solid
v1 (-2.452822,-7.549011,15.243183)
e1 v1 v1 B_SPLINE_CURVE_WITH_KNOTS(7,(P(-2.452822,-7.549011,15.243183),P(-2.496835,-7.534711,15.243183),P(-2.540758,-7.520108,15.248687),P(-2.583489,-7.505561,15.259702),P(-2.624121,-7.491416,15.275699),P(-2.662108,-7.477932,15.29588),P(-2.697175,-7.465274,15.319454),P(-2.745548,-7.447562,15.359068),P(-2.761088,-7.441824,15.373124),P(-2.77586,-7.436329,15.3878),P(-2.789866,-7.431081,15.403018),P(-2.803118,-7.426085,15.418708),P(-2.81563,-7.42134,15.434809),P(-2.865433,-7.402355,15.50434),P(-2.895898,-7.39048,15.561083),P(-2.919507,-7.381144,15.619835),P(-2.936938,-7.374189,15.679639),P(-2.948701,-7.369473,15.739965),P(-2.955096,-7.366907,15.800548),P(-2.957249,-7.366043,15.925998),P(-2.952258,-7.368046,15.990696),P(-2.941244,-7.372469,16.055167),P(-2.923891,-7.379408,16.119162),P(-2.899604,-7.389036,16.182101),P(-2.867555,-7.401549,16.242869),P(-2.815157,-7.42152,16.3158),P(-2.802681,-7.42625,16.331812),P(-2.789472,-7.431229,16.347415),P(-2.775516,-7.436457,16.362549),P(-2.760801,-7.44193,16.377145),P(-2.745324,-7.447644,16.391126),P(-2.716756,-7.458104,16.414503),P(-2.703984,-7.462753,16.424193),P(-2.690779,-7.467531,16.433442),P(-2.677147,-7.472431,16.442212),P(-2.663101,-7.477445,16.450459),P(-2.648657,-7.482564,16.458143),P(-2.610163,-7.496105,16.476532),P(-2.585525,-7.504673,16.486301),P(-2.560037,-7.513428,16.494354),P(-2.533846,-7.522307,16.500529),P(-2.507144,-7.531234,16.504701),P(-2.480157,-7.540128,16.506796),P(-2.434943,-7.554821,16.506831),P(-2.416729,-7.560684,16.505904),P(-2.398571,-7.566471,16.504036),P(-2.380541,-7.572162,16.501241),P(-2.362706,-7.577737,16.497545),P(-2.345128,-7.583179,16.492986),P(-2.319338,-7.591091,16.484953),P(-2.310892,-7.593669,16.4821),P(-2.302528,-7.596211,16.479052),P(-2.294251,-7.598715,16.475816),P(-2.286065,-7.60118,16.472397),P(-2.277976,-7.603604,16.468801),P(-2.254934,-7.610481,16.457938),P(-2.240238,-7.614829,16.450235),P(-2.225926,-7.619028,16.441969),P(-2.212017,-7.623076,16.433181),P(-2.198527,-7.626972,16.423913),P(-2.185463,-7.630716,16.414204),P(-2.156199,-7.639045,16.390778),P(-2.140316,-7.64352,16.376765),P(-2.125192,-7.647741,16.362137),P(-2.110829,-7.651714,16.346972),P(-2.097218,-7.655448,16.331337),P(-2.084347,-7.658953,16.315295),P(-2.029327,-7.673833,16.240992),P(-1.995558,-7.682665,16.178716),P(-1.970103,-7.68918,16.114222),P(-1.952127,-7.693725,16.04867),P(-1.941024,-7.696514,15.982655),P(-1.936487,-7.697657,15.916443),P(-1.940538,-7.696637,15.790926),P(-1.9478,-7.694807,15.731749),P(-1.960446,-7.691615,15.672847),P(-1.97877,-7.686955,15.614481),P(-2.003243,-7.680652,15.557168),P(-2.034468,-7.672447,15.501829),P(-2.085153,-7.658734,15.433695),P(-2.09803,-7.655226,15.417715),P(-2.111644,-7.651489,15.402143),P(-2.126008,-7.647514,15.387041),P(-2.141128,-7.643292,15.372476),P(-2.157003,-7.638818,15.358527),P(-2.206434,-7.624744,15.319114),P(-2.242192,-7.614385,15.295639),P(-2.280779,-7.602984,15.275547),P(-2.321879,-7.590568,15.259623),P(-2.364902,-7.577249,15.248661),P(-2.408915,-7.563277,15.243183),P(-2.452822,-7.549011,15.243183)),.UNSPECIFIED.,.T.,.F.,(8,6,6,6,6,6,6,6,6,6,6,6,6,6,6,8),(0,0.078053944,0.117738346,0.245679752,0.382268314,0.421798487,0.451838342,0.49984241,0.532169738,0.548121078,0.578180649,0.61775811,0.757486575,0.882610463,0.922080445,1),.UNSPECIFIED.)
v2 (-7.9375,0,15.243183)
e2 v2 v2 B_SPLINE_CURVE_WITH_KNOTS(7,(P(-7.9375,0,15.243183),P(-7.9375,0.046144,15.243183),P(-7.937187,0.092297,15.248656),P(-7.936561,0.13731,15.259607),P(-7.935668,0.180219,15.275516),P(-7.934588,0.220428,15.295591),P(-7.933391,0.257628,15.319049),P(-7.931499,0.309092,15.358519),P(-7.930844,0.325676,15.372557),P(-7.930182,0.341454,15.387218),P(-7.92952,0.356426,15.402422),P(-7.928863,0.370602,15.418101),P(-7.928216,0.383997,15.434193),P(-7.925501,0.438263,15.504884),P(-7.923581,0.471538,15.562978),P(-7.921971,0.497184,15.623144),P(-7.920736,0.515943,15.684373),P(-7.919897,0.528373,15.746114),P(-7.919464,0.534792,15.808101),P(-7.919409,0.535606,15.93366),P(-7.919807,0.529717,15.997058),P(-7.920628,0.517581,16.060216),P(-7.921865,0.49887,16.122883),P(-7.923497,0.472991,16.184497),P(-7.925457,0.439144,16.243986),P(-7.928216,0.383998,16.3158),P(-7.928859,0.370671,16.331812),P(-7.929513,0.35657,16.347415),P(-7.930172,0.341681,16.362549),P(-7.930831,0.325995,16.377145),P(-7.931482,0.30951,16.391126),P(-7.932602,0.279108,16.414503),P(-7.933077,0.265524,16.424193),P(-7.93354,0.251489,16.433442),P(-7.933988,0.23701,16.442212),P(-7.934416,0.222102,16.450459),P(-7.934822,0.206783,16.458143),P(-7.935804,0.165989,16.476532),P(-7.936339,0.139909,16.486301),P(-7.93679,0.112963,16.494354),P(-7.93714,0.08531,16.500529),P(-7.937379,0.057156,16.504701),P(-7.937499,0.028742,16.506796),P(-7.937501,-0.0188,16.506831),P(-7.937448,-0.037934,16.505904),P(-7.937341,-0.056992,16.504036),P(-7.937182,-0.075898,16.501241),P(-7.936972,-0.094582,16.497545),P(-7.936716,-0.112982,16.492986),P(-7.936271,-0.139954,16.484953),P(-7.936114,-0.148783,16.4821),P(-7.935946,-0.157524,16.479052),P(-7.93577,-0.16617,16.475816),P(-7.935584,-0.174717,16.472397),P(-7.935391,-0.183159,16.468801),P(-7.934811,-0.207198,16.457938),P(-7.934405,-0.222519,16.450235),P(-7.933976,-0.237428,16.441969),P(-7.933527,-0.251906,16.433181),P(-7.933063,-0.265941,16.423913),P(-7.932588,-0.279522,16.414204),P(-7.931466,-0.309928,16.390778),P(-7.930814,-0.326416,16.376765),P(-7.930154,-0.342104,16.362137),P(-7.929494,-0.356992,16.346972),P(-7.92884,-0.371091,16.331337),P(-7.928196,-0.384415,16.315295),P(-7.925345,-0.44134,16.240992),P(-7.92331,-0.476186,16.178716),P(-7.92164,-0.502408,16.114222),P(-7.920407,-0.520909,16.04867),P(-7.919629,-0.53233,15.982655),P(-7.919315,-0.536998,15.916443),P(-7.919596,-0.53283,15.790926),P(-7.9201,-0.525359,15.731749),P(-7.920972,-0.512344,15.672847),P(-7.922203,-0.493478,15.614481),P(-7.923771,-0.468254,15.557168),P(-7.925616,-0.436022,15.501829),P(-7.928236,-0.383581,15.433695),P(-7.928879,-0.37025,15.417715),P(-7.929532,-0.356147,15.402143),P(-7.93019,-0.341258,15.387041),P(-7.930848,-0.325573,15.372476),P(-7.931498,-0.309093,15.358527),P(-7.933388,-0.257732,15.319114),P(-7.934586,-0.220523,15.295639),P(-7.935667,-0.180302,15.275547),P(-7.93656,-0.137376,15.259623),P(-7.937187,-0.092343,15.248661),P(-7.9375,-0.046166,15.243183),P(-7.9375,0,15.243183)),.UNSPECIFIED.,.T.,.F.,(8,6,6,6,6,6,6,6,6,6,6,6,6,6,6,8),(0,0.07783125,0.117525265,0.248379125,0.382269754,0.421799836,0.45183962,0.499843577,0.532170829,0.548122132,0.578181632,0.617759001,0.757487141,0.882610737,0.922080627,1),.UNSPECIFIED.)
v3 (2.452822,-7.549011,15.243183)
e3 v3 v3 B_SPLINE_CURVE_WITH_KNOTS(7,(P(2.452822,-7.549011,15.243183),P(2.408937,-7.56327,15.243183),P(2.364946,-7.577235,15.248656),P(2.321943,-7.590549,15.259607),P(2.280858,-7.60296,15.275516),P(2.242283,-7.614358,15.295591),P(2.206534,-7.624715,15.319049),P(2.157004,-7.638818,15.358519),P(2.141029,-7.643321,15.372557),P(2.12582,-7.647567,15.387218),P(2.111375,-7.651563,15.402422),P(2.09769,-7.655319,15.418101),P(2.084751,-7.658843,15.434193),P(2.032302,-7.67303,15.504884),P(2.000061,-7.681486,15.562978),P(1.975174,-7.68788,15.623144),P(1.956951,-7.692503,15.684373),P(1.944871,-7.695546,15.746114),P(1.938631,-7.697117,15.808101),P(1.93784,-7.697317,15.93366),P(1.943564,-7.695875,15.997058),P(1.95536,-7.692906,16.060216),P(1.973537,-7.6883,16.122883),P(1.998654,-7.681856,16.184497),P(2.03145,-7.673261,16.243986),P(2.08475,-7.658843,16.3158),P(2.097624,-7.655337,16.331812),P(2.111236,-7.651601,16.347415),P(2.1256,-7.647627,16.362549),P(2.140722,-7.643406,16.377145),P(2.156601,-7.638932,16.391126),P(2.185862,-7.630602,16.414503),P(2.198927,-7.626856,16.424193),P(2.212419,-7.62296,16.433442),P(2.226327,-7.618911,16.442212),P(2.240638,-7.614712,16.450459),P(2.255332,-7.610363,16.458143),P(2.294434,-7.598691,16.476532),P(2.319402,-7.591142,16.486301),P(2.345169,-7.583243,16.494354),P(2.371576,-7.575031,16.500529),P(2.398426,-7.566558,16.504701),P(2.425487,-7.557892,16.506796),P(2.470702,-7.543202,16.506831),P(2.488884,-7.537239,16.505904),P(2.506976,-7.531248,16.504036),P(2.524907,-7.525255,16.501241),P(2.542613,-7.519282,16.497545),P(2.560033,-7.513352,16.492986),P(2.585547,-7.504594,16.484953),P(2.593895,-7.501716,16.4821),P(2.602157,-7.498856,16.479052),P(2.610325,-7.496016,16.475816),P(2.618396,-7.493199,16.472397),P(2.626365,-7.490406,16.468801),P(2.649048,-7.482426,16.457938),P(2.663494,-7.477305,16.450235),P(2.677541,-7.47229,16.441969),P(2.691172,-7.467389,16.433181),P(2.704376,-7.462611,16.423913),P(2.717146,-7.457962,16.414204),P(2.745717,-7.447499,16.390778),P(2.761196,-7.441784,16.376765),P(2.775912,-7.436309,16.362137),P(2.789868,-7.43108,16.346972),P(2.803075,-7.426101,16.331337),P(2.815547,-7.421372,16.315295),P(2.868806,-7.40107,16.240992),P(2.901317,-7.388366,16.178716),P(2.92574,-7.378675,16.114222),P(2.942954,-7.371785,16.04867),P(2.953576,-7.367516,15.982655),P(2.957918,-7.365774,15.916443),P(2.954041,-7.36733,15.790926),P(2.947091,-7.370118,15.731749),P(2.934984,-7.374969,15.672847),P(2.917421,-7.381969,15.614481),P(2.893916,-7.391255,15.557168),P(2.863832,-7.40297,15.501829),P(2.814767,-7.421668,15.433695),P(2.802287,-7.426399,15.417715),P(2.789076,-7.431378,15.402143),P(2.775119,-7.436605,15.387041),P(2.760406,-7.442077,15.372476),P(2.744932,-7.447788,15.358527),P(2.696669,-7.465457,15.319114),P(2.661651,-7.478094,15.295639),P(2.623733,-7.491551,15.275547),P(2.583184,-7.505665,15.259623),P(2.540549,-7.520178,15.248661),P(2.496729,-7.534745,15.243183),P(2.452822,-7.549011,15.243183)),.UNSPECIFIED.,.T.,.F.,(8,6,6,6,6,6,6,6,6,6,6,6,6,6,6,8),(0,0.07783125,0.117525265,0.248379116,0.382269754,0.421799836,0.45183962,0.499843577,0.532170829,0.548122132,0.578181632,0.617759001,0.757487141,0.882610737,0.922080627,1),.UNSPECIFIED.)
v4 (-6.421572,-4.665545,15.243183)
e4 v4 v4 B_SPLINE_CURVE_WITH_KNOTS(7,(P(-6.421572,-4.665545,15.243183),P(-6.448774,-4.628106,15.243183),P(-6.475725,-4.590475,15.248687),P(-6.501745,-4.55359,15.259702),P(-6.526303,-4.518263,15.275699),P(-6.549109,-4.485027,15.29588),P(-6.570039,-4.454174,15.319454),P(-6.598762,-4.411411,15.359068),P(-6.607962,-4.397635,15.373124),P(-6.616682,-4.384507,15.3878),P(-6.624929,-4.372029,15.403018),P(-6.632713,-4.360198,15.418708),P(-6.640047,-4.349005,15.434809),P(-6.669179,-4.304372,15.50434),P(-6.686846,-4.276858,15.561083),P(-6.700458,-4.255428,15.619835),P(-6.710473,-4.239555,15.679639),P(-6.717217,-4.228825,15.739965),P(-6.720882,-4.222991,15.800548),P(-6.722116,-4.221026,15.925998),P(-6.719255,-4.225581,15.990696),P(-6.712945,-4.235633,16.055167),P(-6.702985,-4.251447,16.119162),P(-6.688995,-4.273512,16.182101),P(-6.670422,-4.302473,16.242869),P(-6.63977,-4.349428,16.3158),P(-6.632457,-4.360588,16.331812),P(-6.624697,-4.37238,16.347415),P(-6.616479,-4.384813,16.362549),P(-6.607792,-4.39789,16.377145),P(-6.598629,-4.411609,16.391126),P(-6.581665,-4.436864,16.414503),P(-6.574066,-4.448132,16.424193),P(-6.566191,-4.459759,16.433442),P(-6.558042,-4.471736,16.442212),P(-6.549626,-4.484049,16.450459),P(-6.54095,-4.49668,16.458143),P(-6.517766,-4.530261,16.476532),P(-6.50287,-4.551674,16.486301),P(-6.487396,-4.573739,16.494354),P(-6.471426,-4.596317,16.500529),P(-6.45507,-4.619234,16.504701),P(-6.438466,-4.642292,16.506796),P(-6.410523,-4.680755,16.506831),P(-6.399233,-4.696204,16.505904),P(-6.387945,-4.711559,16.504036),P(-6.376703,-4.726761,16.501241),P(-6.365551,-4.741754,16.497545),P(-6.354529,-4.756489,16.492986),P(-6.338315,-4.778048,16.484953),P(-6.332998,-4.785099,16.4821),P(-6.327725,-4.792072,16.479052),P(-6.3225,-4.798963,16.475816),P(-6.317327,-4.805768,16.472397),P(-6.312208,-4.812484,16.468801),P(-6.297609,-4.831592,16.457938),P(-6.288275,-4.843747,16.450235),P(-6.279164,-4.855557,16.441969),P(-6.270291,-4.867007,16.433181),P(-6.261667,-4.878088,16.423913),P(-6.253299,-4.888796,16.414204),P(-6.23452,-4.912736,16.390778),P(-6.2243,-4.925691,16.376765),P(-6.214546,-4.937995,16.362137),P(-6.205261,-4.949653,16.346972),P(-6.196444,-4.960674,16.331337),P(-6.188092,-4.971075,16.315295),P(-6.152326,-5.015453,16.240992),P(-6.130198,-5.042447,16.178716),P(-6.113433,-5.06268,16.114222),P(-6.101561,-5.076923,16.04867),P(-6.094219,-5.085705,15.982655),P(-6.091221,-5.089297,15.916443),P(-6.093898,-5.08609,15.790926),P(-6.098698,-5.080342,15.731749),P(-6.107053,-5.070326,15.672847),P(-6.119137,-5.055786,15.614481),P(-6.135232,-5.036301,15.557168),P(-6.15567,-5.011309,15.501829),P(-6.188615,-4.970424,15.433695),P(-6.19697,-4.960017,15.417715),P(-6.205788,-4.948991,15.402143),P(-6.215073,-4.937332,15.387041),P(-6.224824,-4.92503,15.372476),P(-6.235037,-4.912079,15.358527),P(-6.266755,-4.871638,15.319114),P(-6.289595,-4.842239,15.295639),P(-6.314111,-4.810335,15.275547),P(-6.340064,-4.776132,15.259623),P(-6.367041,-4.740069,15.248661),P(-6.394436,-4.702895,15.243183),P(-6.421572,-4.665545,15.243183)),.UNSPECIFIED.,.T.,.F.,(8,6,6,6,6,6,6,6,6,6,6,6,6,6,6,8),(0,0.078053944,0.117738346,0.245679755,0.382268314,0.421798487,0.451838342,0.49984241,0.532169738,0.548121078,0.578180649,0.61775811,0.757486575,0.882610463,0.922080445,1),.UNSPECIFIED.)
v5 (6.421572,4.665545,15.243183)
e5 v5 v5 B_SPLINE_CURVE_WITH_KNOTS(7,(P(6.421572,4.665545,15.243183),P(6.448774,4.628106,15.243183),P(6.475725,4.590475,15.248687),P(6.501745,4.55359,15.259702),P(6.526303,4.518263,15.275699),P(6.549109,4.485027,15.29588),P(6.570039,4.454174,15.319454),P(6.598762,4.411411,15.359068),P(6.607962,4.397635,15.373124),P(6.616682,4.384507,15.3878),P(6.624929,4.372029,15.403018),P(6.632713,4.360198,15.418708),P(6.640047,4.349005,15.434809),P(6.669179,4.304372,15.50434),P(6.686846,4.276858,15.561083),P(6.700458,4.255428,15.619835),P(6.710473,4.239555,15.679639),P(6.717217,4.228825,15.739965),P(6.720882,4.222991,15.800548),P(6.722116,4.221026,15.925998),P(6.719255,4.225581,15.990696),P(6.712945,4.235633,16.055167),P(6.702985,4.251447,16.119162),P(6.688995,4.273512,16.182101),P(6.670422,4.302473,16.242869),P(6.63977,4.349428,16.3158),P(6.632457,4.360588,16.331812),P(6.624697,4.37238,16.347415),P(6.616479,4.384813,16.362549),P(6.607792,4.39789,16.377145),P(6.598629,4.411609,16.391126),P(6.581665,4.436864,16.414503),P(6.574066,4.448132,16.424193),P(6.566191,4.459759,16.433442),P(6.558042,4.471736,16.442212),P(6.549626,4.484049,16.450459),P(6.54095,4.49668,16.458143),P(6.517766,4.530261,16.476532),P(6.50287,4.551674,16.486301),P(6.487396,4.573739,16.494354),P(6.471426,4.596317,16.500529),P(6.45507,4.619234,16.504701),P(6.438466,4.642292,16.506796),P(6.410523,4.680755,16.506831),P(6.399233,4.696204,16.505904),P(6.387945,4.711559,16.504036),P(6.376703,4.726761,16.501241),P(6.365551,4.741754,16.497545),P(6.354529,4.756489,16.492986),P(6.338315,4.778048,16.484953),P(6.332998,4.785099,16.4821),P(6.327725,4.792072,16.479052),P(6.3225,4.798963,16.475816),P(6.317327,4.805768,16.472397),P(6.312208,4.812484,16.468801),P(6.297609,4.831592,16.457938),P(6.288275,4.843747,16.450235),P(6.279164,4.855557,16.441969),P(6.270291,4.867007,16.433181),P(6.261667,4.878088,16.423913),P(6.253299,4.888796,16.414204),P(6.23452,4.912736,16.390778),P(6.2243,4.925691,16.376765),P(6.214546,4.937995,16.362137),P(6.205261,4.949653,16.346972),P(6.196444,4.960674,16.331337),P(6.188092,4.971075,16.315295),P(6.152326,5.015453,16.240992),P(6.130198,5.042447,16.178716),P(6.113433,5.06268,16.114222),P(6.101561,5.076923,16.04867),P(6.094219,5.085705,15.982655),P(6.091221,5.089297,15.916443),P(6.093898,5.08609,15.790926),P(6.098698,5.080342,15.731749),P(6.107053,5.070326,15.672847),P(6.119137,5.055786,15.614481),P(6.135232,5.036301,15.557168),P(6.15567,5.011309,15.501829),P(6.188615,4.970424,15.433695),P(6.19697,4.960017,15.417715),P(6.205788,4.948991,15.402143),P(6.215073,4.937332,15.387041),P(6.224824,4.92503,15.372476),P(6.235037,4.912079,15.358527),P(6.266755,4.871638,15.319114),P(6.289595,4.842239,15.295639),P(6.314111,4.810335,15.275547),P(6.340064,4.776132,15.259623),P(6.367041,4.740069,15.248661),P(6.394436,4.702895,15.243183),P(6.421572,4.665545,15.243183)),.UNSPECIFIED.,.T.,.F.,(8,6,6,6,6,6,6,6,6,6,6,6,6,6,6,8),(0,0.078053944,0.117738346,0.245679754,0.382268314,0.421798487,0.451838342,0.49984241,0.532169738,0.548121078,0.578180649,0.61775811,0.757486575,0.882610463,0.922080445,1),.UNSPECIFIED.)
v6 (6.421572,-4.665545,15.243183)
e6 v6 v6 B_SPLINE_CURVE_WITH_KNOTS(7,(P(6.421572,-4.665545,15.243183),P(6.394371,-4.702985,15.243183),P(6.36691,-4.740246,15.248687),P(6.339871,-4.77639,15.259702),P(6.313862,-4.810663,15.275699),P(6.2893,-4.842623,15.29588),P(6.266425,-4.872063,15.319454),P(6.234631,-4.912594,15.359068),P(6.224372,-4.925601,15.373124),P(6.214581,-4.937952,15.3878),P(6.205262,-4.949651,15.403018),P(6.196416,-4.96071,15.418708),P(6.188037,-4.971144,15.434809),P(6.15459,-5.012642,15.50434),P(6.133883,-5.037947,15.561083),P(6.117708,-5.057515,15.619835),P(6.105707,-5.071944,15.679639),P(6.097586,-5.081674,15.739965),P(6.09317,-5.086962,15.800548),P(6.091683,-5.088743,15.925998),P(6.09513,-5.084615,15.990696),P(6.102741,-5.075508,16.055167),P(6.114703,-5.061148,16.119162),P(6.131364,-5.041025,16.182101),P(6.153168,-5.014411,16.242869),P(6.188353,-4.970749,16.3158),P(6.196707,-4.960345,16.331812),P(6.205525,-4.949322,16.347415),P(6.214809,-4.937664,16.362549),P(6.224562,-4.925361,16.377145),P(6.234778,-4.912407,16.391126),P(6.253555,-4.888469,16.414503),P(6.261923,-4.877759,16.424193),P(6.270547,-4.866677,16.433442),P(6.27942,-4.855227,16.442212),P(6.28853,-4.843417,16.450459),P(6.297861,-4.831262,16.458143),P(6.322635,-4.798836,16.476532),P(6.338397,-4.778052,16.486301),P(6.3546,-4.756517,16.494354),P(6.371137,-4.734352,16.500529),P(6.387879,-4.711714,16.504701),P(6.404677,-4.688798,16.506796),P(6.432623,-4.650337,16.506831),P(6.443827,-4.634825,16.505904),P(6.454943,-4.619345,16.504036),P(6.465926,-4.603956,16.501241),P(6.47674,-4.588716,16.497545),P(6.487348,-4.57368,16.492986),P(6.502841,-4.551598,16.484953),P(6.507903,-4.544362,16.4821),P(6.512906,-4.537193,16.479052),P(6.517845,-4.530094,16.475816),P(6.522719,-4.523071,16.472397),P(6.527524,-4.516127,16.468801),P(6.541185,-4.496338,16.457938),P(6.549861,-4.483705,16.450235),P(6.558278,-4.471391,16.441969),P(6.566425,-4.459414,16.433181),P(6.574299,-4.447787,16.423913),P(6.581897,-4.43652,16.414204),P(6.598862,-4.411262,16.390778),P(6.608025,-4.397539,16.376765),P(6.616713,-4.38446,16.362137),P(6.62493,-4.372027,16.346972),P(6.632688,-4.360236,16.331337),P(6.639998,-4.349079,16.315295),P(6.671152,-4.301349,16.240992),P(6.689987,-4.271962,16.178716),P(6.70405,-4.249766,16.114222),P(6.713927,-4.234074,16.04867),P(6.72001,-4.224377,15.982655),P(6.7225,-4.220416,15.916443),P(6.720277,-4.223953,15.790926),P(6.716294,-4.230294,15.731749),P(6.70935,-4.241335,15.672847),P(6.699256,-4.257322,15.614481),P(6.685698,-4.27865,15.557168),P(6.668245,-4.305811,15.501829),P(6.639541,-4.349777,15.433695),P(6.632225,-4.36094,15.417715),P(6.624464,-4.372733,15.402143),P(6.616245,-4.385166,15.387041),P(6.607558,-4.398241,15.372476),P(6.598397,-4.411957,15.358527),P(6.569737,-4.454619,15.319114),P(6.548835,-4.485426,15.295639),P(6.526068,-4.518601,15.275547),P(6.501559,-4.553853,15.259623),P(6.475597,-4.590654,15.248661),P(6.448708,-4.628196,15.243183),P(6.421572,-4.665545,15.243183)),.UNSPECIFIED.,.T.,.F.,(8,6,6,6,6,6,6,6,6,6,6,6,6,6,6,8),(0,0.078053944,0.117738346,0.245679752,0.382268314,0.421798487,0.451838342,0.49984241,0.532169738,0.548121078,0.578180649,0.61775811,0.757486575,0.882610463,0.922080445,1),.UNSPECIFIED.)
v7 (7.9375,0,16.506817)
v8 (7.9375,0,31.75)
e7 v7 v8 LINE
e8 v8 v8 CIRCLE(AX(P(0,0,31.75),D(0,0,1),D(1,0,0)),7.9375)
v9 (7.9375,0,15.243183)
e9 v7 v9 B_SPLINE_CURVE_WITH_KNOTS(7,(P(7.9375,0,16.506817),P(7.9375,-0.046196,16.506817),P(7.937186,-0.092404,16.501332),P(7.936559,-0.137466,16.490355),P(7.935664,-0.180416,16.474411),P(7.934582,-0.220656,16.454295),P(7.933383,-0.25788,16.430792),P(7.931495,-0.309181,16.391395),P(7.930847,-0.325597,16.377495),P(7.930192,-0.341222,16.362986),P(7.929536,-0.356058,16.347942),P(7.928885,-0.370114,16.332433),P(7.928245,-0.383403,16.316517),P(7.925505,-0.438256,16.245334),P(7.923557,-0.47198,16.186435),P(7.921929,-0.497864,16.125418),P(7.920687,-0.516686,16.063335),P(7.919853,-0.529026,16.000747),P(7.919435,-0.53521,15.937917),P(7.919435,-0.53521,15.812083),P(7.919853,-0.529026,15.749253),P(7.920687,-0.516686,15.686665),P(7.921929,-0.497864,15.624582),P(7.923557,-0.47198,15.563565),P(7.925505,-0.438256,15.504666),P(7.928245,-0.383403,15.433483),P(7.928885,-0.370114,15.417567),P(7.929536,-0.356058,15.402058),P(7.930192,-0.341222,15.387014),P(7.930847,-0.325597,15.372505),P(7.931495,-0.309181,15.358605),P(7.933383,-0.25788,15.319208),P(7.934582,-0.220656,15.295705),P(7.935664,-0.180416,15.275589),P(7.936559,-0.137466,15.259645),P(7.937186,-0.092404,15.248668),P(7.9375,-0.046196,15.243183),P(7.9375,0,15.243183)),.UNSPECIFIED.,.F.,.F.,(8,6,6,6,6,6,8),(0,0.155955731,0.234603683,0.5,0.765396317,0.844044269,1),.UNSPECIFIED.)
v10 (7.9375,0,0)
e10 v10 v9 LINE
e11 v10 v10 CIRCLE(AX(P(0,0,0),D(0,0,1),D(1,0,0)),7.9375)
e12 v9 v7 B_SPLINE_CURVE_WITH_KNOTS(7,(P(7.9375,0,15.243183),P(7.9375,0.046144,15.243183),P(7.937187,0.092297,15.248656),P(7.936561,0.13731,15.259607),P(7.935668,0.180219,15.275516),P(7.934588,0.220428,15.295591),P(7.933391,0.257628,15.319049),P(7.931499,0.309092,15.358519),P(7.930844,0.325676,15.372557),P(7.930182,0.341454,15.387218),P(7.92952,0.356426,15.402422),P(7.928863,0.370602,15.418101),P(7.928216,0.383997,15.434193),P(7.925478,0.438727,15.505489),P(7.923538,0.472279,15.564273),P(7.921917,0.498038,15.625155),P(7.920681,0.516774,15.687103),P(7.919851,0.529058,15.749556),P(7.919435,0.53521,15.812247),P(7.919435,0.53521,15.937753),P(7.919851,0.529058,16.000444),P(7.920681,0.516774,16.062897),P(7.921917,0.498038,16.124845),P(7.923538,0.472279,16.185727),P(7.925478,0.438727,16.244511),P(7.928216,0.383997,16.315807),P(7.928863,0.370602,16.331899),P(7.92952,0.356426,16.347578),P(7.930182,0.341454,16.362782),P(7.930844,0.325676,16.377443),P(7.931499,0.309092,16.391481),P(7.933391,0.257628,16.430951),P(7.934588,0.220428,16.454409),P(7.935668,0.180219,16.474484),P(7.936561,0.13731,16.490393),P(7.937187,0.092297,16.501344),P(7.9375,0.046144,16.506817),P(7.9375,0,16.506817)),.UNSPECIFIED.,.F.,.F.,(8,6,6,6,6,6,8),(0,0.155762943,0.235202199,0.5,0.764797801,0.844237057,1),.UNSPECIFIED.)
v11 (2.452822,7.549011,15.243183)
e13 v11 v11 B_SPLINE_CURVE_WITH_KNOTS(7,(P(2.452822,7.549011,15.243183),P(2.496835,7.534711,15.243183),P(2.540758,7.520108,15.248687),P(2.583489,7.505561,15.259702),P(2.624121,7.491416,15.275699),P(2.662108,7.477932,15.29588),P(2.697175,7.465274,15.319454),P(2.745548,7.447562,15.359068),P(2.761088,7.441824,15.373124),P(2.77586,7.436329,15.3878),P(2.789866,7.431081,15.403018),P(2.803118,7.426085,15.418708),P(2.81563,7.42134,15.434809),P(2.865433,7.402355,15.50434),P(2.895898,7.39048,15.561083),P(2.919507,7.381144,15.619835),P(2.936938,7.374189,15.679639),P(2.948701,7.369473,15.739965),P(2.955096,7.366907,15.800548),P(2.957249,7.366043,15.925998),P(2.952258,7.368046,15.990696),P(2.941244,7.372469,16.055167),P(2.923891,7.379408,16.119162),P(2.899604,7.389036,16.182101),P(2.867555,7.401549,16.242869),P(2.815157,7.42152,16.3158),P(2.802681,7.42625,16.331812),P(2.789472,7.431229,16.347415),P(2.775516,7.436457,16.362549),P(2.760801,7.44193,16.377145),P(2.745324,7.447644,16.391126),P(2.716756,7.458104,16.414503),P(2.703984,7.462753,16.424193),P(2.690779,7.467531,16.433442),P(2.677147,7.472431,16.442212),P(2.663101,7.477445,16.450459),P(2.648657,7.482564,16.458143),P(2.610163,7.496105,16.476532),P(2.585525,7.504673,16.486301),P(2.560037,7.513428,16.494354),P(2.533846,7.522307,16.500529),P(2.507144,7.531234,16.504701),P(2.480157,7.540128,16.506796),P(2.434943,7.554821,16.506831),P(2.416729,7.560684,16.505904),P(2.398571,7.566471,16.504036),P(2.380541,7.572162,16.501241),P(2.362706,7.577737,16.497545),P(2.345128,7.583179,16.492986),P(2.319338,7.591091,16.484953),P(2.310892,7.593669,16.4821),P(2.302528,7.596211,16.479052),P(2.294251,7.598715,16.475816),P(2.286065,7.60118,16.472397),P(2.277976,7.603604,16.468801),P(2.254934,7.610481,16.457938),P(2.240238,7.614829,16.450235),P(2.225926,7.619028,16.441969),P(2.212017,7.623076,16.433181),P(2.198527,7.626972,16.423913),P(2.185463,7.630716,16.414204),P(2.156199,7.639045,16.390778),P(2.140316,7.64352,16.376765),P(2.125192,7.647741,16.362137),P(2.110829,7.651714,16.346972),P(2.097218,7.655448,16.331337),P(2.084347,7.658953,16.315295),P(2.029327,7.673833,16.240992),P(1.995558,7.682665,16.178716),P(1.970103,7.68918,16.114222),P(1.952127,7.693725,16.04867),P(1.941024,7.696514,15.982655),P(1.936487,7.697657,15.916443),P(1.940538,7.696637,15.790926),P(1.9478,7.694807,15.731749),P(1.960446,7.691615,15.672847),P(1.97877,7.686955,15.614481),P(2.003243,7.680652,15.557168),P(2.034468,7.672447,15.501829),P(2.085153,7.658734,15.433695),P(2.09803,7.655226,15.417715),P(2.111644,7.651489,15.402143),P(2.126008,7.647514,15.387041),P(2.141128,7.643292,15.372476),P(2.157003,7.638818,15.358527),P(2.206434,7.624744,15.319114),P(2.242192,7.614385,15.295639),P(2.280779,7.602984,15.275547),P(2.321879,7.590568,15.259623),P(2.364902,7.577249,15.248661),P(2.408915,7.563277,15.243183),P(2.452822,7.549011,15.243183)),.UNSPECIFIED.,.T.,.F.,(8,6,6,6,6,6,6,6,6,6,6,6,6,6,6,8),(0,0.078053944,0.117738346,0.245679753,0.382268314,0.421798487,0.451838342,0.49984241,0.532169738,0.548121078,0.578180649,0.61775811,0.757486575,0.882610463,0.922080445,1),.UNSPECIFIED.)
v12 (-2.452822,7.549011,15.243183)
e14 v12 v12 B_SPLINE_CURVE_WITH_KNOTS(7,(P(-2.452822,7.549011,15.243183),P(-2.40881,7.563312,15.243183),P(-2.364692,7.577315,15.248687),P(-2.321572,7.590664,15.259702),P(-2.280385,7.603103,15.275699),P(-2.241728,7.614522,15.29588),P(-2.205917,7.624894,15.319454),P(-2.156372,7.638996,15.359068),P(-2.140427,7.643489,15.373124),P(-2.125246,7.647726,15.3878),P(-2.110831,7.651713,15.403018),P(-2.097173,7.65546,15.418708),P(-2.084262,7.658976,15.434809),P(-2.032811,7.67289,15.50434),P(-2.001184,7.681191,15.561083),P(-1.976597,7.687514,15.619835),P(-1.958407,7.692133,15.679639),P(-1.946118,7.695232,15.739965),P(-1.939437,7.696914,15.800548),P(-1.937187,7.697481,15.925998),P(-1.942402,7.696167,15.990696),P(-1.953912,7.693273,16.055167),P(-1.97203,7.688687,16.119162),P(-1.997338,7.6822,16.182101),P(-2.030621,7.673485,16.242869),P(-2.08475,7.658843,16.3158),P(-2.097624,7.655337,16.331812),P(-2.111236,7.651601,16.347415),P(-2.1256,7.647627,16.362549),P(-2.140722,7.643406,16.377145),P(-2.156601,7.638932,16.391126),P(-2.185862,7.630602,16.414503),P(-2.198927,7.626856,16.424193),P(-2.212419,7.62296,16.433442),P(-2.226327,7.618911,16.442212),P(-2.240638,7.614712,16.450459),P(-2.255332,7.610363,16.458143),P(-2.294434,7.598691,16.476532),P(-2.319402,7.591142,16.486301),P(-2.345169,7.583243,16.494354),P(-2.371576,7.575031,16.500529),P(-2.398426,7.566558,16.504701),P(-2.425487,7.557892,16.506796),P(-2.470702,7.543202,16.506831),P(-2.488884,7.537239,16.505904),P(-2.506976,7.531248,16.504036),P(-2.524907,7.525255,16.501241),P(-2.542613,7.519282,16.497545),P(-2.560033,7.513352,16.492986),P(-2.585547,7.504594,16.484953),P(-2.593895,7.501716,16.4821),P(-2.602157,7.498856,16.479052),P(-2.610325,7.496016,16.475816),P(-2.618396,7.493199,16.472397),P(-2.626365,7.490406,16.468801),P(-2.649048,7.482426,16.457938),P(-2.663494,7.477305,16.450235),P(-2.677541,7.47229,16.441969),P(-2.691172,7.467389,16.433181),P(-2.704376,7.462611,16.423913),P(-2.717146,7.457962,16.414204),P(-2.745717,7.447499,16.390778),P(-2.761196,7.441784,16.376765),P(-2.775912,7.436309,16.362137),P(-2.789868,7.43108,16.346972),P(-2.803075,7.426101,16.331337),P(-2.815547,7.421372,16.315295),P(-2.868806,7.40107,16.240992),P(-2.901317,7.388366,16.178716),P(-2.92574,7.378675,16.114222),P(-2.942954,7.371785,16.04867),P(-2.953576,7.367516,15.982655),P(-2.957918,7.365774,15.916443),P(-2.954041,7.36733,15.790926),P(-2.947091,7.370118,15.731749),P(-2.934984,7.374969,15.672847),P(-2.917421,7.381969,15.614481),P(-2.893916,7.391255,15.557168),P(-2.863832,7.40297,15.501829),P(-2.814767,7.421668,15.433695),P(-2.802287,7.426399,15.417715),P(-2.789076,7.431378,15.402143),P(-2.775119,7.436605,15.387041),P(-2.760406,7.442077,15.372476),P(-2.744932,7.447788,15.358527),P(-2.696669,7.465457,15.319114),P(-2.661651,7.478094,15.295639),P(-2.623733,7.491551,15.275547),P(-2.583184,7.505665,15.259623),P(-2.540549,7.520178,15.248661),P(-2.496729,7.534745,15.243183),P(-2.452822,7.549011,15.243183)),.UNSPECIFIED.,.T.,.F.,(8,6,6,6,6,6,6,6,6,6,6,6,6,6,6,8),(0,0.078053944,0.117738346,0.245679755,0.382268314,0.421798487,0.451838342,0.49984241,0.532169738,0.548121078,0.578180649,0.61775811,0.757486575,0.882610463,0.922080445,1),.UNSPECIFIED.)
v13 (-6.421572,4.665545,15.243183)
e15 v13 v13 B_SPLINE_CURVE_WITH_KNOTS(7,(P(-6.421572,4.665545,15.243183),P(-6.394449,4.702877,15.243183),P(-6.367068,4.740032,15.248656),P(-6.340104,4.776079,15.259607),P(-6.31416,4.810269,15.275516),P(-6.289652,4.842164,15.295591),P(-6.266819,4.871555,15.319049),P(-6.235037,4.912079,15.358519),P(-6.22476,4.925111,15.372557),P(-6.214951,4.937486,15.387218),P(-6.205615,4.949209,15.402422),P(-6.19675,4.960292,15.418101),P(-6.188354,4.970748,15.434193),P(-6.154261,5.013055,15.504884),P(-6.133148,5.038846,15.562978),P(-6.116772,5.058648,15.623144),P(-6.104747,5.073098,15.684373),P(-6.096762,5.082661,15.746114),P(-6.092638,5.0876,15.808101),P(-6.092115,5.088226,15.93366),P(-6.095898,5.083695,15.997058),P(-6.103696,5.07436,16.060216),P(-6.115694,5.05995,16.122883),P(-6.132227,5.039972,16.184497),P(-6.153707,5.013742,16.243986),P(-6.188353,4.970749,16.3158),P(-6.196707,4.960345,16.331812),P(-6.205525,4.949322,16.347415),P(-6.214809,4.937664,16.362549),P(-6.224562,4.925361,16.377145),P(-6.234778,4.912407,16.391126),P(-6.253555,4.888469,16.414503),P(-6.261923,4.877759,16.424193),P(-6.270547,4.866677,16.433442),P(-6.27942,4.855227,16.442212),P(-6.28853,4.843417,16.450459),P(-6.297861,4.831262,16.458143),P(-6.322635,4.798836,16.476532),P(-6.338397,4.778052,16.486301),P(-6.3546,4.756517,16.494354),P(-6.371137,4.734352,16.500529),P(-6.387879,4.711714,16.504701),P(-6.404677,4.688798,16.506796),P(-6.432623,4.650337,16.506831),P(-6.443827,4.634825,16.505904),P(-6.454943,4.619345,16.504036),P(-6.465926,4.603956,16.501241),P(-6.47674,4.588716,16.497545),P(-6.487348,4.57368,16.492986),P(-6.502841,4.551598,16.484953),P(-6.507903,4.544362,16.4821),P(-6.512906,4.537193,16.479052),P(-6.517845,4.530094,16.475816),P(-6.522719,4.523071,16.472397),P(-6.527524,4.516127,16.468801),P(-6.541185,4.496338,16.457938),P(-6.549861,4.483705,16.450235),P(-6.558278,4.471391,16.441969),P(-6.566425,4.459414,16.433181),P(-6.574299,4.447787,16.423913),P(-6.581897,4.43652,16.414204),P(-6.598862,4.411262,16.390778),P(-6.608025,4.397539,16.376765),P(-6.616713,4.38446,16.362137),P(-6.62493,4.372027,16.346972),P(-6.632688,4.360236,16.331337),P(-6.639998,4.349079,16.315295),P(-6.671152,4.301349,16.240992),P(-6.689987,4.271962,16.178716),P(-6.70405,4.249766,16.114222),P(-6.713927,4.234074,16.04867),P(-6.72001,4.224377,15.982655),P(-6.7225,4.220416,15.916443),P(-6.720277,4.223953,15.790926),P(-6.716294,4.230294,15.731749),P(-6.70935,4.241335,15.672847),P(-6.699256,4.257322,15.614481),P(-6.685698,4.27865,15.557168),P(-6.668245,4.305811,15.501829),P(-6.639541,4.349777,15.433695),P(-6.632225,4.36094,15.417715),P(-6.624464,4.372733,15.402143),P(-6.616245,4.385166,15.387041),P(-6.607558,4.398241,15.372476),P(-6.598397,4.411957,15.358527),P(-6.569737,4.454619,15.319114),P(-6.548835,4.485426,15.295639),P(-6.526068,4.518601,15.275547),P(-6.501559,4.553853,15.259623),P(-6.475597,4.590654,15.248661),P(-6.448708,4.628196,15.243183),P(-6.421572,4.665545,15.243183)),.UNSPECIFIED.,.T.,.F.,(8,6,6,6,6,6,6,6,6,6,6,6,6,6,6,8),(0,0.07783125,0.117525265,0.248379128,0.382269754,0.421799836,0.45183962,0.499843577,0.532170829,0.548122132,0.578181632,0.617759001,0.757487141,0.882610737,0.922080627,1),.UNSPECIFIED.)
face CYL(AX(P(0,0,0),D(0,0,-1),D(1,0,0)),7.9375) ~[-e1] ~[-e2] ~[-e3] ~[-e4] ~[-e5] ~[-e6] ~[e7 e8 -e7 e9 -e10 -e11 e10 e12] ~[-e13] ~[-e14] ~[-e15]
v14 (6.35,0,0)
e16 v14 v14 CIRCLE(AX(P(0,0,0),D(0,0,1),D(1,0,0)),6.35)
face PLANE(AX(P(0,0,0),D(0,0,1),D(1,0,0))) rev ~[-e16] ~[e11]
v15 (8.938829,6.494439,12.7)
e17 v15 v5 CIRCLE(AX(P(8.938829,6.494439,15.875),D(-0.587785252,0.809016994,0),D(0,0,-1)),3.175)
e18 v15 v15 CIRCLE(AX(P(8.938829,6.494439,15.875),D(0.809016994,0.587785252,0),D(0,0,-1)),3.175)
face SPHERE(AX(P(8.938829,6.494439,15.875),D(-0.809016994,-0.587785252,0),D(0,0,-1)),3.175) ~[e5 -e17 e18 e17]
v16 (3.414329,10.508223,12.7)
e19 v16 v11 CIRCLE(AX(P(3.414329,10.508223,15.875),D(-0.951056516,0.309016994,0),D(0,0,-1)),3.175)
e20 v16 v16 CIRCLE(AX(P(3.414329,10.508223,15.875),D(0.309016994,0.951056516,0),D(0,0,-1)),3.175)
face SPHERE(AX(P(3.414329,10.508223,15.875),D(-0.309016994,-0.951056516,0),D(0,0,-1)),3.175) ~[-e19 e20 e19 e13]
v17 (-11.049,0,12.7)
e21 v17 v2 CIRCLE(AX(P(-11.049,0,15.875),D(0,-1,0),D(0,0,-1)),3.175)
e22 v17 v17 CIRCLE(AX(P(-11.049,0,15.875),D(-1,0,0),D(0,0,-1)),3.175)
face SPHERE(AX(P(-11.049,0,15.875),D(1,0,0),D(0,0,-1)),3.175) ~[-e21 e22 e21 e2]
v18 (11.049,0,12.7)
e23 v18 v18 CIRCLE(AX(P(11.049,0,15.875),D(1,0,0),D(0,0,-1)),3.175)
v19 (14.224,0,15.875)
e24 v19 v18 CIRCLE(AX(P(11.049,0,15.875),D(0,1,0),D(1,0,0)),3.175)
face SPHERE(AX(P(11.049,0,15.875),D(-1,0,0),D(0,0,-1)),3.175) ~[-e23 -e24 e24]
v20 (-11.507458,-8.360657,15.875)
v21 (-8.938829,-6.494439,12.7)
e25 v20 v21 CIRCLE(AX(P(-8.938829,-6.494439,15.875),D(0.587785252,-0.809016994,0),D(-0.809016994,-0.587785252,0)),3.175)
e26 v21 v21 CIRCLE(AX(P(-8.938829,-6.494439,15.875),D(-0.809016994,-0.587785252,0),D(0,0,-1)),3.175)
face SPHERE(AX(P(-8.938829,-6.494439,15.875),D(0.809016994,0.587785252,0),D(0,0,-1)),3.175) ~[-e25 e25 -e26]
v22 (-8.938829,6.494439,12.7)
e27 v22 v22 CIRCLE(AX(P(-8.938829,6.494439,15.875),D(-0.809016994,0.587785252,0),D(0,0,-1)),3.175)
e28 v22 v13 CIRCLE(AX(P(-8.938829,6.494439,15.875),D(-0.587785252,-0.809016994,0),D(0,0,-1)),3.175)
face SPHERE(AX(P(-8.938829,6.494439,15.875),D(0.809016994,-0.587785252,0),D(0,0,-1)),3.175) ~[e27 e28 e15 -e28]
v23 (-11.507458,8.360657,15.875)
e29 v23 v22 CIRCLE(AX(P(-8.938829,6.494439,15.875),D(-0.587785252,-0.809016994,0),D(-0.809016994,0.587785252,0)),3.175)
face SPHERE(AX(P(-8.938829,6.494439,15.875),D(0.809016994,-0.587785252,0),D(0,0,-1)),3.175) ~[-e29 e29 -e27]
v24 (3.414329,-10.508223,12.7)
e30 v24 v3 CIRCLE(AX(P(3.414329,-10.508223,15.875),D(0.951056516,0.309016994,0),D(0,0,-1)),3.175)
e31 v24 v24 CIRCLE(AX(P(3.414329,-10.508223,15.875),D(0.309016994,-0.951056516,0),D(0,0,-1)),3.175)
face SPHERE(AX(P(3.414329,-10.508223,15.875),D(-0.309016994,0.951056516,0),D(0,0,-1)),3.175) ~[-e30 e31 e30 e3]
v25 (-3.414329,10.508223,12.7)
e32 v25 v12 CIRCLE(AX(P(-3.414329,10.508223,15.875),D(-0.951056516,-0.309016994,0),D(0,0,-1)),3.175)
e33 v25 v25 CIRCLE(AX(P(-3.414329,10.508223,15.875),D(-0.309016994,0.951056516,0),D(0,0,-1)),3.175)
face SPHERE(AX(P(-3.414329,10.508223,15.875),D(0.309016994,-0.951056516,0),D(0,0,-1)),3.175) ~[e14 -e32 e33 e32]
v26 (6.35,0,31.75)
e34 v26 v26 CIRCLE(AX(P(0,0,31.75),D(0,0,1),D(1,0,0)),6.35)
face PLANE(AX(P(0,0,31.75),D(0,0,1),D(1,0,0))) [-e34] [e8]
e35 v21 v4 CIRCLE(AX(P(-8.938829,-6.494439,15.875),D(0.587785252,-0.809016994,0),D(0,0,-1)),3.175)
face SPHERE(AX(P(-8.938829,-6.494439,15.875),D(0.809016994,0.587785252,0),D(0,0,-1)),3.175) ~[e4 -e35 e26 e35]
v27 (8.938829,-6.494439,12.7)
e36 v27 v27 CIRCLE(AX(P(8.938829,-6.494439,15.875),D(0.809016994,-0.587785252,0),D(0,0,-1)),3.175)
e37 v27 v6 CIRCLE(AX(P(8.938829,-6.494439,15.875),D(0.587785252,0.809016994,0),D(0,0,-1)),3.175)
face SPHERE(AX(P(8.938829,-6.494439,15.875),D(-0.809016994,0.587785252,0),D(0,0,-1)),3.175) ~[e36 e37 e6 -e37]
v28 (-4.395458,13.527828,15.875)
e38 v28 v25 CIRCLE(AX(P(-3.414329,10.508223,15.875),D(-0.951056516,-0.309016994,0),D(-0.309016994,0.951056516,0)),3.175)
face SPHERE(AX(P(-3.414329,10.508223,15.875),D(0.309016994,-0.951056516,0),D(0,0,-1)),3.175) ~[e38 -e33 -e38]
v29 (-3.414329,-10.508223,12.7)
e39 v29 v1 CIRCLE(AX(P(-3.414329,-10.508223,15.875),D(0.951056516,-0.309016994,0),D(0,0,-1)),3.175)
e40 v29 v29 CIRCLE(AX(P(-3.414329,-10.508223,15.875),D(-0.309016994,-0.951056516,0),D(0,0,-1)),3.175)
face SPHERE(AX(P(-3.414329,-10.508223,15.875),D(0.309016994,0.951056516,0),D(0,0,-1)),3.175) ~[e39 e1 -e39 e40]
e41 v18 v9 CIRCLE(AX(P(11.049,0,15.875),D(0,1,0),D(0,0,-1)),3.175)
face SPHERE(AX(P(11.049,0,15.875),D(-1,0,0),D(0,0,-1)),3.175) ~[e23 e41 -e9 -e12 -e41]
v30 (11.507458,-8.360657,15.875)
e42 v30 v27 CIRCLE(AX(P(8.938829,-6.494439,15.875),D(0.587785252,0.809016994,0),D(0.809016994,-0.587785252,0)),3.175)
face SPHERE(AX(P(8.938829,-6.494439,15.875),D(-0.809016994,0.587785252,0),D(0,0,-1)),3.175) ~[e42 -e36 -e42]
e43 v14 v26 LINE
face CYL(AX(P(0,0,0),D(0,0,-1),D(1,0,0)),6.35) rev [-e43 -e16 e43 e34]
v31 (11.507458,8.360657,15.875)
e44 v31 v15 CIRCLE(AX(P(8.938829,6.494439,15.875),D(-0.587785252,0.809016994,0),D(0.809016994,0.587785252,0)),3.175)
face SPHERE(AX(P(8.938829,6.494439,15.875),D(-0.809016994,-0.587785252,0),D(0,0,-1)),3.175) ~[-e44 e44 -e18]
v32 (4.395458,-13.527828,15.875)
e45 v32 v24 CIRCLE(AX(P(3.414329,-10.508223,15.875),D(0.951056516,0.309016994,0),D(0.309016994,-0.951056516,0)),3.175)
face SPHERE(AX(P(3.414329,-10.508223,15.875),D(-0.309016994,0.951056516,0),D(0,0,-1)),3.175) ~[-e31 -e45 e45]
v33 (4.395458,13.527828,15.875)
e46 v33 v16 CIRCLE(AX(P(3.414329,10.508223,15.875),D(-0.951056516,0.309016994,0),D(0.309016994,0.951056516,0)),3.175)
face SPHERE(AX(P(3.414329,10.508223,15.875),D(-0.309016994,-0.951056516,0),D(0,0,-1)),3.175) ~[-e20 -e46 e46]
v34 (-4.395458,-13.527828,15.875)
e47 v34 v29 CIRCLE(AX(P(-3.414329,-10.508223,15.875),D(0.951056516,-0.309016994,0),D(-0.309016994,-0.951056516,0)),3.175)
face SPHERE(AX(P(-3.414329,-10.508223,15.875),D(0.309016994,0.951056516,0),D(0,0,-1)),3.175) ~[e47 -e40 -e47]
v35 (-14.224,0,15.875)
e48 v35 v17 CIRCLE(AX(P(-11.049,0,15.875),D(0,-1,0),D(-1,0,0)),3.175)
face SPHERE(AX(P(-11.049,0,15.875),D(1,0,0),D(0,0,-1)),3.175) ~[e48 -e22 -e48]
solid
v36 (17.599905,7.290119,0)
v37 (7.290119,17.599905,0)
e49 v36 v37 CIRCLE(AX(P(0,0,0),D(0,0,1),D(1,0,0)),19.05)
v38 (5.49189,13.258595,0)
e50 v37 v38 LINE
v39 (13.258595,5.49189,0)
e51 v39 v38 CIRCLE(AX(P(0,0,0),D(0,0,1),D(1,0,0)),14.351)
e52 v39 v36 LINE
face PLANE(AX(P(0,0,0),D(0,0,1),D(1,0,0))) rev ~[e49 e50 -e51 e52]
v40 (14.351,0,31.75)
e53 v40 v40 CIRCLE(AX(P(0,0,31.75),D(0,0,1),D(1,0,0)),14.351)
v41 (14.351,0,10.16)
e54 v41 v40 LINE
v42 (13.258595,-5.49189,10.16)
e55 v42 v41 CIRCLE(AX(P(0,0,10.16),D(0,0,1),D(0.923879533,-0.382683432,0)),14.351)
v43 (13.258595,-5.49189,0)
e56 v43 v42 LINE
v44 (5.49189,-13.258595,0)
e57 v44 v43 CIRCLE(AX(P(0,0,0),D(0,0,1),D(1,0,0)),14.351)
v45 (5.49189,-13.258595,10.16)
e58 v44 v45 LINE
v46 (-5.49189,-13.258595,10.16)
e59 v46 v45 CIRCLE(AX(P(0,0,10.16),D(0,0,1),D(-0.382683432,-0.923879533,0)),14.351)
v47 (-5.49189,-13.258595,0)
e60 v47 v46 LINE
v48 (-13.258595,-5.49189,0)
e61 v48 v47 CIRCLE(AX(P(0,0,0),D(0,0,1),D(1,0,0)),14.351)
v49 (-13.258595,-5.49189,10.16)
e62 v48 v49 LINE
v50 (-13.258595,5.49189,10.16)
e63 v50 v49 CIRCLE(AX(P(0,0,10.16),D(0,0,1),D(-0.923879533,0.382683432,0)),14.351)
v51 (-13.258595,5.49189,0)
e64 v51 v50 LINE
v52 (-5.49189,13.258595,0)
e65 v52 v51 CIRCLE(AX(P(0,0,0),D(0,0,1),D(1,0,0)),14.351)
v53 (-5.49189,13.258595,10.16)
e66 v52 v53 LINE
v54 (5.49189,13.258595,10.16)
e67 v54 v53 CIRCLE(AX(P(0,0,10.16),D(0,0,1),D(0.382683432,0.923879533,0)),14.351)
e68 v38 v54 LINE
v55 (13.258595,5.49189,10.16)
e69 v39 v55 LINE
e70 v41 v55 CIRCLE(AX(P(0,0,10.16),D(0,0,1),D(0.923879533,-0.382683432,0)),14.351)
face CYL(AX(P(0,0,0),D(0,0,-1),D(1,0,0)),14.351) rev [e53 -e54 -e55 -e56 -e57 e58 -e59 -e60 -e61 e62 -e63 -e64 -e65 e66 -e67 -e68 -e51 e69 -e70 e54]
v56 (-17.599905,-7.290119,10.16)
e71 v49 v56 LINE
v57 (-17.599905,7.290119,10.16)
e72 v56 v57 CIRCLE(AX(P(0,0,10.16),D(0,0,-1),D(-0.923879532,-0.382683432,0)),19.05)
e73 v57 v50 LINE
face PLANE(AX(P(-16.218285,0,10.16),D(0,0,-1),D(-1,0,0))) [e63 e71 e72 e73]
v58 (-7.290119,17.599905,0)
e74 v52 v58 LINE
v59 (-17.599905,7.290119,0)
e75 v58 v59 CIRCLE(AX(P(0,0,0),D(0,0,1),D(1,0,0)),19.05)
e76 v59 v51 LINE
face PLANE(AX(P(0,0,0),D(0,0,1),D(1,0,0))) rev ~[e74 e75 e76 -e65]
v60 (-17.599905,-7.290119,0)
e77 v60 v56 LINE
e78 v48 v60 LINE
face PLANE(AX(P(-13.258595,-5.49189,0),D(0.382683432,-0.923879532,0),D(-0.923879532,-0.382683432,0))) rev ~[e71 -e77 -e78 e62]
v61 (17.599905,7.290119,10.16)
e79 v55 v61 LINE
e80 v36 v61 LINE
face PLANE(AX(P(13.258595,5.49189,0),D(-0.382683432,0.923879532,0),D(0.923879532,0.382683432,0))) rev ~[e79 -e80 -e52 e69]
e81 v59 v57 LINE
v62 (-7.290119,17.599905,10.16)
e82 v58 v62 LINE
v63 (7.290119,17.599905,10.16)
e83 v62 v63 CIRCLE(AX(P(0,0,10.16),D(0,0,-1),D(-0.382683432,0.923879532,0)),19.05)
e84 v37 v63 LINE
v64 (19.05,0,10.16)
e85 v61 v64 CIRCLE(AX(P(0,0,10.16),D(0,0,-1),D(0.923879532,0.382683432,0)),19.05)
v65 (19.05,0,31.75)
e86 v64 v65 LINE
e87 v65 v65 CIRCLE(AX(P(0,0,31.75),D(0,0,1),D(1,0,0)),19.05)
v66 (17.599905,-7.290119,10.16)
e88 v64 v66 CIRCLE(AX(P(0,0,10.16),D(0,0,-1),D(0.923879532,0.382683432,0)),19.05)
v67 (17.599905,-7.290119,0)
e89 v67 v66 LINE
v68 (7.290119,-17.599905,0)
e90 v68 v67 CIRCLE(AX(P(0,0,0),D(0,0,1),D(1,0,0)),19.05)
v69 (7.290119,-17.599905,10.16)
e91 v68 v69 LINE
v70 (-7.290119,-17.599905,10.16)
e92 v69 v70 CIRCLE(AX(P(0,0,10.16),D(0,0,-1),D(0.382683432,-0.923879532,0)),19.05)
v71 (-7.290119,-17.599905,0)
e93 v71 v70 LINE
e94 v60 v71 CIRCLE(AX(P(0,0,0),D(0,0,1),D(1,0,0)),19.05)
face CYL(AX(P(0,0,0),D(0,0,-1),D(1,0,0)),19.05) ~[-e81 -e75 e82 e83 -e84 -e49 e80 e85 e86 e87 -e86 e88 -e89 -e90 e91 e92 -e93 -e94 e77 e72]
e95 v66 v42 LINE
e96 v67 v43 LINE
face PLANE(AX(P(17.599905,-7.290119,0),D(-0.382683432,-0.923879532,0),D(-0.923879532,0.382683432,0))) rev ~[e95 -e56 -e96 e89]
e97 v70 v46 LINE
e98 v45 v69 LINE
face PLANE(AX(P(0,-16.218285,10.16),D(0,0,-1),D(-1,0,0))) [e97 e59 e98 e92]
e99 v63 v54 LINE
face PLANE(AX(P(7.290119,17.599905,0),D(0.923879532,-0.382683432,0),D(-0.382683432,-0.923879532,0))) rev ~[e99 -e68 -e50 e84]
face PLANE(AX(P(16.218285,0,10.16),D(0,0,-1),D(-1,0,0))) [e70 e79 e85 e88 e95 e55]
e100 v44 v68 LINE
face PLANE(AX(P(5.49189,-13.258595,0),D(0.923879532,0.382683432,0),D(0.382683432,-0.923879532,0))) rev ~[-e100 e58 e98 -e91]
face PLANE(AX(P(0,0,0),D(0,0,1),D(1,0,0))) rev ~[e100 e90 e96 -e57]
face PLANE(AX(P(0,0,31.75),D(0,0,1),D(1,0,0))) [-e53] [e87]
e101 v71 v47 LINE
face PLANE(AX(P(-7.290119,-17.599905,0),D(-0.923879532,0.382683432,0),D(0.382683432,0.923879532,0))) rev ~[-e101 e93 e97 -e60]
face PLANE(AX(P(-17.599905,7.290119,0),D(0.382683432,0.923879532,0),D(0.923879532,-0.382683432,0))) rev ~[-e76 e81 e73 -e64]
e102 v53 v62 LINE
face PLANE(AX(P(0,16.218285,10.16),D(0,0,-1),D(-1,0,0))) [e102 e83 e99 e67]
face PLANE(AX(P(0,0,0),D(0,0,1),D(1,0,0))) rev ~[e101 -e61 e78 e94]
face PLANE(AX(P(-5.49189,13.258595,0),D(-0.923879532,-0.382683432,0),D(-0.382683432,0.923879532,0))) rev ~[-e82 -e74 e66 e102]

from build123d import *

# Parameters (mm, degrees)
SKETCH1_R             = 19.05
SKETCH1_R_2           = 14.351
BOSS_EXTRUDE1_DEPTH   = 31.75
SKETCH1_R_3           = 7.9375
SKETCH1_R_4           = 6.35
BOSS_EXTRUDE1_2_DEPTH = 31.75
CIRPATTERN1_COUNT     = 10
CUT_EXTRUDE1_DEPTH    = 10.16


with BuildPart() as part:
    # Sketch1 → Boss-Extrude1 (new body)
    with BuildSketch(Plane.XY):
        Circle(SKETCH1_R)
        Circle(SKETCH1_R_2, mode=Mode.SUBTRACT)
    extrude(amount=BOSS_EXTRUDE1_DEPTH)

    # Sketch3 → Cut-Extrude1 (cut)
    with BuildSketch(Plane(origin=(0, 0, 0), x_dir=(-1, 0, 0), z_dir=(0, 0, -1))):
        with BuildLine():
            Line((-7.290119387, 17.599905094), (-5.491889938, 13.258595171))
            ThreePointArc((-5.491889938, 13.258595171), (0, 14.351), (5.491889938, 13.258595171))
            Line((5.491889938, 13.258595171), (7.290119387, 17.599905094))
            ThreePointArc((7.290119387, 17.599905094), (0, 19.05), (-7.290119387, 17.599905094))
        make_face()
        with BuildLine():
            Line((17.599905094, 7.290119387), (13.258595171, 5.491889938))
            ThreePointArc((13.258595171, 5.491889938), (14.351, 0), (13.258595171, -5.491889938))
            Line((13.258595171, -5.491889938), (17.599905094, -7.290119387))
            ThreePointArc((17.599905094, -7.290119387), (19.05, 0), (17.599905094, 7.290119387))
        make_face()
        with BuildLine():
            Line((7.290119387, -17.599905094), (5.491889938, -13.258595171))
            ThreePointArc((5.491889938, -13.258595171), (0, -14.351), (-5.491889938, -13.258595171))
            Line((-5.491889938, -13.258595171), (-7.290119387, -17.599905094))
            ThreePointArc((-7.290119387, -17.599905094), (0, -19.05), (7.290119387, -17.599905094))
        make_face()
        with BuildLine():
            Line((-17.599905094, -7.290119387), (-13.258595171, -5.491889938))
            ThreePointArc((-13.258595171, -5.491889938), (-14.351, 0), (-13.258595171, 5.491889938))
            Line((-13.258595171, 5.491889938), (-17.599905094, 7.290119387))
            ThreePointArc((-17.599905094, 7.290119387), (-19.05, 0), (-17.599905094, -7.290119387))
        make_face()
    extrude(amount=-CUT_EXTRUDE1_DEPTH, mode=Mode.SUBTRACT)


with BuildPart() as body_2:
    # Sketch1 → Boss-Extrude1 2 (new body)
    with BuildSketch(Plane.XY):
        Circle(SKETCH1_R_3)
        Circle(SKETCH1_R_4, mode=Mode.SUBTRACT)
    extrude(amount=BOSS_EXTRUDE1_2_DEPTH)

    # Sketch2 → Revolve1 (revolve)
    with BuildSketch(Plane(origin=(0, 0, 0), x_dir=(1, 0, 0), z_dir=(0, 1, 0))):
        with BuildLine():
            ThreePointArc((11.049, -12.7), (8.80393597, -13.62993597), (7.874, -15.875))
            Line((7.874, -15.875), (11.049, -15.875))
            Line((11.049, -15.875), (11.049, -12.7))
        make_face()
        with BuildLine():
            Line((11.049, -12.7), (11.049, -15.875))
            Line((11.049, -15.875), (14.224, -15.875))
            ThreePointArc((14.224, -15.875), (13.29406403, -13.62993597), (11.049, -12.7))
        make_face()
    revolve1 = revolve(axis=Axis((7.874, 0, 15.875), (1, 0, 0)))

    # CirPattern1: Revolve1 ×10 about axis
    cirpattern1_axis = Axis((0, 0, 0), (0, 0, 1))
    for i in range(1, CIRPATTERN1_COUNT):
        add(revolve1.rotate(cirpattern1_axis, i * 360 / CIRPATTERN1_COUNT))


solid = Compound([part.part, body_2.part])
